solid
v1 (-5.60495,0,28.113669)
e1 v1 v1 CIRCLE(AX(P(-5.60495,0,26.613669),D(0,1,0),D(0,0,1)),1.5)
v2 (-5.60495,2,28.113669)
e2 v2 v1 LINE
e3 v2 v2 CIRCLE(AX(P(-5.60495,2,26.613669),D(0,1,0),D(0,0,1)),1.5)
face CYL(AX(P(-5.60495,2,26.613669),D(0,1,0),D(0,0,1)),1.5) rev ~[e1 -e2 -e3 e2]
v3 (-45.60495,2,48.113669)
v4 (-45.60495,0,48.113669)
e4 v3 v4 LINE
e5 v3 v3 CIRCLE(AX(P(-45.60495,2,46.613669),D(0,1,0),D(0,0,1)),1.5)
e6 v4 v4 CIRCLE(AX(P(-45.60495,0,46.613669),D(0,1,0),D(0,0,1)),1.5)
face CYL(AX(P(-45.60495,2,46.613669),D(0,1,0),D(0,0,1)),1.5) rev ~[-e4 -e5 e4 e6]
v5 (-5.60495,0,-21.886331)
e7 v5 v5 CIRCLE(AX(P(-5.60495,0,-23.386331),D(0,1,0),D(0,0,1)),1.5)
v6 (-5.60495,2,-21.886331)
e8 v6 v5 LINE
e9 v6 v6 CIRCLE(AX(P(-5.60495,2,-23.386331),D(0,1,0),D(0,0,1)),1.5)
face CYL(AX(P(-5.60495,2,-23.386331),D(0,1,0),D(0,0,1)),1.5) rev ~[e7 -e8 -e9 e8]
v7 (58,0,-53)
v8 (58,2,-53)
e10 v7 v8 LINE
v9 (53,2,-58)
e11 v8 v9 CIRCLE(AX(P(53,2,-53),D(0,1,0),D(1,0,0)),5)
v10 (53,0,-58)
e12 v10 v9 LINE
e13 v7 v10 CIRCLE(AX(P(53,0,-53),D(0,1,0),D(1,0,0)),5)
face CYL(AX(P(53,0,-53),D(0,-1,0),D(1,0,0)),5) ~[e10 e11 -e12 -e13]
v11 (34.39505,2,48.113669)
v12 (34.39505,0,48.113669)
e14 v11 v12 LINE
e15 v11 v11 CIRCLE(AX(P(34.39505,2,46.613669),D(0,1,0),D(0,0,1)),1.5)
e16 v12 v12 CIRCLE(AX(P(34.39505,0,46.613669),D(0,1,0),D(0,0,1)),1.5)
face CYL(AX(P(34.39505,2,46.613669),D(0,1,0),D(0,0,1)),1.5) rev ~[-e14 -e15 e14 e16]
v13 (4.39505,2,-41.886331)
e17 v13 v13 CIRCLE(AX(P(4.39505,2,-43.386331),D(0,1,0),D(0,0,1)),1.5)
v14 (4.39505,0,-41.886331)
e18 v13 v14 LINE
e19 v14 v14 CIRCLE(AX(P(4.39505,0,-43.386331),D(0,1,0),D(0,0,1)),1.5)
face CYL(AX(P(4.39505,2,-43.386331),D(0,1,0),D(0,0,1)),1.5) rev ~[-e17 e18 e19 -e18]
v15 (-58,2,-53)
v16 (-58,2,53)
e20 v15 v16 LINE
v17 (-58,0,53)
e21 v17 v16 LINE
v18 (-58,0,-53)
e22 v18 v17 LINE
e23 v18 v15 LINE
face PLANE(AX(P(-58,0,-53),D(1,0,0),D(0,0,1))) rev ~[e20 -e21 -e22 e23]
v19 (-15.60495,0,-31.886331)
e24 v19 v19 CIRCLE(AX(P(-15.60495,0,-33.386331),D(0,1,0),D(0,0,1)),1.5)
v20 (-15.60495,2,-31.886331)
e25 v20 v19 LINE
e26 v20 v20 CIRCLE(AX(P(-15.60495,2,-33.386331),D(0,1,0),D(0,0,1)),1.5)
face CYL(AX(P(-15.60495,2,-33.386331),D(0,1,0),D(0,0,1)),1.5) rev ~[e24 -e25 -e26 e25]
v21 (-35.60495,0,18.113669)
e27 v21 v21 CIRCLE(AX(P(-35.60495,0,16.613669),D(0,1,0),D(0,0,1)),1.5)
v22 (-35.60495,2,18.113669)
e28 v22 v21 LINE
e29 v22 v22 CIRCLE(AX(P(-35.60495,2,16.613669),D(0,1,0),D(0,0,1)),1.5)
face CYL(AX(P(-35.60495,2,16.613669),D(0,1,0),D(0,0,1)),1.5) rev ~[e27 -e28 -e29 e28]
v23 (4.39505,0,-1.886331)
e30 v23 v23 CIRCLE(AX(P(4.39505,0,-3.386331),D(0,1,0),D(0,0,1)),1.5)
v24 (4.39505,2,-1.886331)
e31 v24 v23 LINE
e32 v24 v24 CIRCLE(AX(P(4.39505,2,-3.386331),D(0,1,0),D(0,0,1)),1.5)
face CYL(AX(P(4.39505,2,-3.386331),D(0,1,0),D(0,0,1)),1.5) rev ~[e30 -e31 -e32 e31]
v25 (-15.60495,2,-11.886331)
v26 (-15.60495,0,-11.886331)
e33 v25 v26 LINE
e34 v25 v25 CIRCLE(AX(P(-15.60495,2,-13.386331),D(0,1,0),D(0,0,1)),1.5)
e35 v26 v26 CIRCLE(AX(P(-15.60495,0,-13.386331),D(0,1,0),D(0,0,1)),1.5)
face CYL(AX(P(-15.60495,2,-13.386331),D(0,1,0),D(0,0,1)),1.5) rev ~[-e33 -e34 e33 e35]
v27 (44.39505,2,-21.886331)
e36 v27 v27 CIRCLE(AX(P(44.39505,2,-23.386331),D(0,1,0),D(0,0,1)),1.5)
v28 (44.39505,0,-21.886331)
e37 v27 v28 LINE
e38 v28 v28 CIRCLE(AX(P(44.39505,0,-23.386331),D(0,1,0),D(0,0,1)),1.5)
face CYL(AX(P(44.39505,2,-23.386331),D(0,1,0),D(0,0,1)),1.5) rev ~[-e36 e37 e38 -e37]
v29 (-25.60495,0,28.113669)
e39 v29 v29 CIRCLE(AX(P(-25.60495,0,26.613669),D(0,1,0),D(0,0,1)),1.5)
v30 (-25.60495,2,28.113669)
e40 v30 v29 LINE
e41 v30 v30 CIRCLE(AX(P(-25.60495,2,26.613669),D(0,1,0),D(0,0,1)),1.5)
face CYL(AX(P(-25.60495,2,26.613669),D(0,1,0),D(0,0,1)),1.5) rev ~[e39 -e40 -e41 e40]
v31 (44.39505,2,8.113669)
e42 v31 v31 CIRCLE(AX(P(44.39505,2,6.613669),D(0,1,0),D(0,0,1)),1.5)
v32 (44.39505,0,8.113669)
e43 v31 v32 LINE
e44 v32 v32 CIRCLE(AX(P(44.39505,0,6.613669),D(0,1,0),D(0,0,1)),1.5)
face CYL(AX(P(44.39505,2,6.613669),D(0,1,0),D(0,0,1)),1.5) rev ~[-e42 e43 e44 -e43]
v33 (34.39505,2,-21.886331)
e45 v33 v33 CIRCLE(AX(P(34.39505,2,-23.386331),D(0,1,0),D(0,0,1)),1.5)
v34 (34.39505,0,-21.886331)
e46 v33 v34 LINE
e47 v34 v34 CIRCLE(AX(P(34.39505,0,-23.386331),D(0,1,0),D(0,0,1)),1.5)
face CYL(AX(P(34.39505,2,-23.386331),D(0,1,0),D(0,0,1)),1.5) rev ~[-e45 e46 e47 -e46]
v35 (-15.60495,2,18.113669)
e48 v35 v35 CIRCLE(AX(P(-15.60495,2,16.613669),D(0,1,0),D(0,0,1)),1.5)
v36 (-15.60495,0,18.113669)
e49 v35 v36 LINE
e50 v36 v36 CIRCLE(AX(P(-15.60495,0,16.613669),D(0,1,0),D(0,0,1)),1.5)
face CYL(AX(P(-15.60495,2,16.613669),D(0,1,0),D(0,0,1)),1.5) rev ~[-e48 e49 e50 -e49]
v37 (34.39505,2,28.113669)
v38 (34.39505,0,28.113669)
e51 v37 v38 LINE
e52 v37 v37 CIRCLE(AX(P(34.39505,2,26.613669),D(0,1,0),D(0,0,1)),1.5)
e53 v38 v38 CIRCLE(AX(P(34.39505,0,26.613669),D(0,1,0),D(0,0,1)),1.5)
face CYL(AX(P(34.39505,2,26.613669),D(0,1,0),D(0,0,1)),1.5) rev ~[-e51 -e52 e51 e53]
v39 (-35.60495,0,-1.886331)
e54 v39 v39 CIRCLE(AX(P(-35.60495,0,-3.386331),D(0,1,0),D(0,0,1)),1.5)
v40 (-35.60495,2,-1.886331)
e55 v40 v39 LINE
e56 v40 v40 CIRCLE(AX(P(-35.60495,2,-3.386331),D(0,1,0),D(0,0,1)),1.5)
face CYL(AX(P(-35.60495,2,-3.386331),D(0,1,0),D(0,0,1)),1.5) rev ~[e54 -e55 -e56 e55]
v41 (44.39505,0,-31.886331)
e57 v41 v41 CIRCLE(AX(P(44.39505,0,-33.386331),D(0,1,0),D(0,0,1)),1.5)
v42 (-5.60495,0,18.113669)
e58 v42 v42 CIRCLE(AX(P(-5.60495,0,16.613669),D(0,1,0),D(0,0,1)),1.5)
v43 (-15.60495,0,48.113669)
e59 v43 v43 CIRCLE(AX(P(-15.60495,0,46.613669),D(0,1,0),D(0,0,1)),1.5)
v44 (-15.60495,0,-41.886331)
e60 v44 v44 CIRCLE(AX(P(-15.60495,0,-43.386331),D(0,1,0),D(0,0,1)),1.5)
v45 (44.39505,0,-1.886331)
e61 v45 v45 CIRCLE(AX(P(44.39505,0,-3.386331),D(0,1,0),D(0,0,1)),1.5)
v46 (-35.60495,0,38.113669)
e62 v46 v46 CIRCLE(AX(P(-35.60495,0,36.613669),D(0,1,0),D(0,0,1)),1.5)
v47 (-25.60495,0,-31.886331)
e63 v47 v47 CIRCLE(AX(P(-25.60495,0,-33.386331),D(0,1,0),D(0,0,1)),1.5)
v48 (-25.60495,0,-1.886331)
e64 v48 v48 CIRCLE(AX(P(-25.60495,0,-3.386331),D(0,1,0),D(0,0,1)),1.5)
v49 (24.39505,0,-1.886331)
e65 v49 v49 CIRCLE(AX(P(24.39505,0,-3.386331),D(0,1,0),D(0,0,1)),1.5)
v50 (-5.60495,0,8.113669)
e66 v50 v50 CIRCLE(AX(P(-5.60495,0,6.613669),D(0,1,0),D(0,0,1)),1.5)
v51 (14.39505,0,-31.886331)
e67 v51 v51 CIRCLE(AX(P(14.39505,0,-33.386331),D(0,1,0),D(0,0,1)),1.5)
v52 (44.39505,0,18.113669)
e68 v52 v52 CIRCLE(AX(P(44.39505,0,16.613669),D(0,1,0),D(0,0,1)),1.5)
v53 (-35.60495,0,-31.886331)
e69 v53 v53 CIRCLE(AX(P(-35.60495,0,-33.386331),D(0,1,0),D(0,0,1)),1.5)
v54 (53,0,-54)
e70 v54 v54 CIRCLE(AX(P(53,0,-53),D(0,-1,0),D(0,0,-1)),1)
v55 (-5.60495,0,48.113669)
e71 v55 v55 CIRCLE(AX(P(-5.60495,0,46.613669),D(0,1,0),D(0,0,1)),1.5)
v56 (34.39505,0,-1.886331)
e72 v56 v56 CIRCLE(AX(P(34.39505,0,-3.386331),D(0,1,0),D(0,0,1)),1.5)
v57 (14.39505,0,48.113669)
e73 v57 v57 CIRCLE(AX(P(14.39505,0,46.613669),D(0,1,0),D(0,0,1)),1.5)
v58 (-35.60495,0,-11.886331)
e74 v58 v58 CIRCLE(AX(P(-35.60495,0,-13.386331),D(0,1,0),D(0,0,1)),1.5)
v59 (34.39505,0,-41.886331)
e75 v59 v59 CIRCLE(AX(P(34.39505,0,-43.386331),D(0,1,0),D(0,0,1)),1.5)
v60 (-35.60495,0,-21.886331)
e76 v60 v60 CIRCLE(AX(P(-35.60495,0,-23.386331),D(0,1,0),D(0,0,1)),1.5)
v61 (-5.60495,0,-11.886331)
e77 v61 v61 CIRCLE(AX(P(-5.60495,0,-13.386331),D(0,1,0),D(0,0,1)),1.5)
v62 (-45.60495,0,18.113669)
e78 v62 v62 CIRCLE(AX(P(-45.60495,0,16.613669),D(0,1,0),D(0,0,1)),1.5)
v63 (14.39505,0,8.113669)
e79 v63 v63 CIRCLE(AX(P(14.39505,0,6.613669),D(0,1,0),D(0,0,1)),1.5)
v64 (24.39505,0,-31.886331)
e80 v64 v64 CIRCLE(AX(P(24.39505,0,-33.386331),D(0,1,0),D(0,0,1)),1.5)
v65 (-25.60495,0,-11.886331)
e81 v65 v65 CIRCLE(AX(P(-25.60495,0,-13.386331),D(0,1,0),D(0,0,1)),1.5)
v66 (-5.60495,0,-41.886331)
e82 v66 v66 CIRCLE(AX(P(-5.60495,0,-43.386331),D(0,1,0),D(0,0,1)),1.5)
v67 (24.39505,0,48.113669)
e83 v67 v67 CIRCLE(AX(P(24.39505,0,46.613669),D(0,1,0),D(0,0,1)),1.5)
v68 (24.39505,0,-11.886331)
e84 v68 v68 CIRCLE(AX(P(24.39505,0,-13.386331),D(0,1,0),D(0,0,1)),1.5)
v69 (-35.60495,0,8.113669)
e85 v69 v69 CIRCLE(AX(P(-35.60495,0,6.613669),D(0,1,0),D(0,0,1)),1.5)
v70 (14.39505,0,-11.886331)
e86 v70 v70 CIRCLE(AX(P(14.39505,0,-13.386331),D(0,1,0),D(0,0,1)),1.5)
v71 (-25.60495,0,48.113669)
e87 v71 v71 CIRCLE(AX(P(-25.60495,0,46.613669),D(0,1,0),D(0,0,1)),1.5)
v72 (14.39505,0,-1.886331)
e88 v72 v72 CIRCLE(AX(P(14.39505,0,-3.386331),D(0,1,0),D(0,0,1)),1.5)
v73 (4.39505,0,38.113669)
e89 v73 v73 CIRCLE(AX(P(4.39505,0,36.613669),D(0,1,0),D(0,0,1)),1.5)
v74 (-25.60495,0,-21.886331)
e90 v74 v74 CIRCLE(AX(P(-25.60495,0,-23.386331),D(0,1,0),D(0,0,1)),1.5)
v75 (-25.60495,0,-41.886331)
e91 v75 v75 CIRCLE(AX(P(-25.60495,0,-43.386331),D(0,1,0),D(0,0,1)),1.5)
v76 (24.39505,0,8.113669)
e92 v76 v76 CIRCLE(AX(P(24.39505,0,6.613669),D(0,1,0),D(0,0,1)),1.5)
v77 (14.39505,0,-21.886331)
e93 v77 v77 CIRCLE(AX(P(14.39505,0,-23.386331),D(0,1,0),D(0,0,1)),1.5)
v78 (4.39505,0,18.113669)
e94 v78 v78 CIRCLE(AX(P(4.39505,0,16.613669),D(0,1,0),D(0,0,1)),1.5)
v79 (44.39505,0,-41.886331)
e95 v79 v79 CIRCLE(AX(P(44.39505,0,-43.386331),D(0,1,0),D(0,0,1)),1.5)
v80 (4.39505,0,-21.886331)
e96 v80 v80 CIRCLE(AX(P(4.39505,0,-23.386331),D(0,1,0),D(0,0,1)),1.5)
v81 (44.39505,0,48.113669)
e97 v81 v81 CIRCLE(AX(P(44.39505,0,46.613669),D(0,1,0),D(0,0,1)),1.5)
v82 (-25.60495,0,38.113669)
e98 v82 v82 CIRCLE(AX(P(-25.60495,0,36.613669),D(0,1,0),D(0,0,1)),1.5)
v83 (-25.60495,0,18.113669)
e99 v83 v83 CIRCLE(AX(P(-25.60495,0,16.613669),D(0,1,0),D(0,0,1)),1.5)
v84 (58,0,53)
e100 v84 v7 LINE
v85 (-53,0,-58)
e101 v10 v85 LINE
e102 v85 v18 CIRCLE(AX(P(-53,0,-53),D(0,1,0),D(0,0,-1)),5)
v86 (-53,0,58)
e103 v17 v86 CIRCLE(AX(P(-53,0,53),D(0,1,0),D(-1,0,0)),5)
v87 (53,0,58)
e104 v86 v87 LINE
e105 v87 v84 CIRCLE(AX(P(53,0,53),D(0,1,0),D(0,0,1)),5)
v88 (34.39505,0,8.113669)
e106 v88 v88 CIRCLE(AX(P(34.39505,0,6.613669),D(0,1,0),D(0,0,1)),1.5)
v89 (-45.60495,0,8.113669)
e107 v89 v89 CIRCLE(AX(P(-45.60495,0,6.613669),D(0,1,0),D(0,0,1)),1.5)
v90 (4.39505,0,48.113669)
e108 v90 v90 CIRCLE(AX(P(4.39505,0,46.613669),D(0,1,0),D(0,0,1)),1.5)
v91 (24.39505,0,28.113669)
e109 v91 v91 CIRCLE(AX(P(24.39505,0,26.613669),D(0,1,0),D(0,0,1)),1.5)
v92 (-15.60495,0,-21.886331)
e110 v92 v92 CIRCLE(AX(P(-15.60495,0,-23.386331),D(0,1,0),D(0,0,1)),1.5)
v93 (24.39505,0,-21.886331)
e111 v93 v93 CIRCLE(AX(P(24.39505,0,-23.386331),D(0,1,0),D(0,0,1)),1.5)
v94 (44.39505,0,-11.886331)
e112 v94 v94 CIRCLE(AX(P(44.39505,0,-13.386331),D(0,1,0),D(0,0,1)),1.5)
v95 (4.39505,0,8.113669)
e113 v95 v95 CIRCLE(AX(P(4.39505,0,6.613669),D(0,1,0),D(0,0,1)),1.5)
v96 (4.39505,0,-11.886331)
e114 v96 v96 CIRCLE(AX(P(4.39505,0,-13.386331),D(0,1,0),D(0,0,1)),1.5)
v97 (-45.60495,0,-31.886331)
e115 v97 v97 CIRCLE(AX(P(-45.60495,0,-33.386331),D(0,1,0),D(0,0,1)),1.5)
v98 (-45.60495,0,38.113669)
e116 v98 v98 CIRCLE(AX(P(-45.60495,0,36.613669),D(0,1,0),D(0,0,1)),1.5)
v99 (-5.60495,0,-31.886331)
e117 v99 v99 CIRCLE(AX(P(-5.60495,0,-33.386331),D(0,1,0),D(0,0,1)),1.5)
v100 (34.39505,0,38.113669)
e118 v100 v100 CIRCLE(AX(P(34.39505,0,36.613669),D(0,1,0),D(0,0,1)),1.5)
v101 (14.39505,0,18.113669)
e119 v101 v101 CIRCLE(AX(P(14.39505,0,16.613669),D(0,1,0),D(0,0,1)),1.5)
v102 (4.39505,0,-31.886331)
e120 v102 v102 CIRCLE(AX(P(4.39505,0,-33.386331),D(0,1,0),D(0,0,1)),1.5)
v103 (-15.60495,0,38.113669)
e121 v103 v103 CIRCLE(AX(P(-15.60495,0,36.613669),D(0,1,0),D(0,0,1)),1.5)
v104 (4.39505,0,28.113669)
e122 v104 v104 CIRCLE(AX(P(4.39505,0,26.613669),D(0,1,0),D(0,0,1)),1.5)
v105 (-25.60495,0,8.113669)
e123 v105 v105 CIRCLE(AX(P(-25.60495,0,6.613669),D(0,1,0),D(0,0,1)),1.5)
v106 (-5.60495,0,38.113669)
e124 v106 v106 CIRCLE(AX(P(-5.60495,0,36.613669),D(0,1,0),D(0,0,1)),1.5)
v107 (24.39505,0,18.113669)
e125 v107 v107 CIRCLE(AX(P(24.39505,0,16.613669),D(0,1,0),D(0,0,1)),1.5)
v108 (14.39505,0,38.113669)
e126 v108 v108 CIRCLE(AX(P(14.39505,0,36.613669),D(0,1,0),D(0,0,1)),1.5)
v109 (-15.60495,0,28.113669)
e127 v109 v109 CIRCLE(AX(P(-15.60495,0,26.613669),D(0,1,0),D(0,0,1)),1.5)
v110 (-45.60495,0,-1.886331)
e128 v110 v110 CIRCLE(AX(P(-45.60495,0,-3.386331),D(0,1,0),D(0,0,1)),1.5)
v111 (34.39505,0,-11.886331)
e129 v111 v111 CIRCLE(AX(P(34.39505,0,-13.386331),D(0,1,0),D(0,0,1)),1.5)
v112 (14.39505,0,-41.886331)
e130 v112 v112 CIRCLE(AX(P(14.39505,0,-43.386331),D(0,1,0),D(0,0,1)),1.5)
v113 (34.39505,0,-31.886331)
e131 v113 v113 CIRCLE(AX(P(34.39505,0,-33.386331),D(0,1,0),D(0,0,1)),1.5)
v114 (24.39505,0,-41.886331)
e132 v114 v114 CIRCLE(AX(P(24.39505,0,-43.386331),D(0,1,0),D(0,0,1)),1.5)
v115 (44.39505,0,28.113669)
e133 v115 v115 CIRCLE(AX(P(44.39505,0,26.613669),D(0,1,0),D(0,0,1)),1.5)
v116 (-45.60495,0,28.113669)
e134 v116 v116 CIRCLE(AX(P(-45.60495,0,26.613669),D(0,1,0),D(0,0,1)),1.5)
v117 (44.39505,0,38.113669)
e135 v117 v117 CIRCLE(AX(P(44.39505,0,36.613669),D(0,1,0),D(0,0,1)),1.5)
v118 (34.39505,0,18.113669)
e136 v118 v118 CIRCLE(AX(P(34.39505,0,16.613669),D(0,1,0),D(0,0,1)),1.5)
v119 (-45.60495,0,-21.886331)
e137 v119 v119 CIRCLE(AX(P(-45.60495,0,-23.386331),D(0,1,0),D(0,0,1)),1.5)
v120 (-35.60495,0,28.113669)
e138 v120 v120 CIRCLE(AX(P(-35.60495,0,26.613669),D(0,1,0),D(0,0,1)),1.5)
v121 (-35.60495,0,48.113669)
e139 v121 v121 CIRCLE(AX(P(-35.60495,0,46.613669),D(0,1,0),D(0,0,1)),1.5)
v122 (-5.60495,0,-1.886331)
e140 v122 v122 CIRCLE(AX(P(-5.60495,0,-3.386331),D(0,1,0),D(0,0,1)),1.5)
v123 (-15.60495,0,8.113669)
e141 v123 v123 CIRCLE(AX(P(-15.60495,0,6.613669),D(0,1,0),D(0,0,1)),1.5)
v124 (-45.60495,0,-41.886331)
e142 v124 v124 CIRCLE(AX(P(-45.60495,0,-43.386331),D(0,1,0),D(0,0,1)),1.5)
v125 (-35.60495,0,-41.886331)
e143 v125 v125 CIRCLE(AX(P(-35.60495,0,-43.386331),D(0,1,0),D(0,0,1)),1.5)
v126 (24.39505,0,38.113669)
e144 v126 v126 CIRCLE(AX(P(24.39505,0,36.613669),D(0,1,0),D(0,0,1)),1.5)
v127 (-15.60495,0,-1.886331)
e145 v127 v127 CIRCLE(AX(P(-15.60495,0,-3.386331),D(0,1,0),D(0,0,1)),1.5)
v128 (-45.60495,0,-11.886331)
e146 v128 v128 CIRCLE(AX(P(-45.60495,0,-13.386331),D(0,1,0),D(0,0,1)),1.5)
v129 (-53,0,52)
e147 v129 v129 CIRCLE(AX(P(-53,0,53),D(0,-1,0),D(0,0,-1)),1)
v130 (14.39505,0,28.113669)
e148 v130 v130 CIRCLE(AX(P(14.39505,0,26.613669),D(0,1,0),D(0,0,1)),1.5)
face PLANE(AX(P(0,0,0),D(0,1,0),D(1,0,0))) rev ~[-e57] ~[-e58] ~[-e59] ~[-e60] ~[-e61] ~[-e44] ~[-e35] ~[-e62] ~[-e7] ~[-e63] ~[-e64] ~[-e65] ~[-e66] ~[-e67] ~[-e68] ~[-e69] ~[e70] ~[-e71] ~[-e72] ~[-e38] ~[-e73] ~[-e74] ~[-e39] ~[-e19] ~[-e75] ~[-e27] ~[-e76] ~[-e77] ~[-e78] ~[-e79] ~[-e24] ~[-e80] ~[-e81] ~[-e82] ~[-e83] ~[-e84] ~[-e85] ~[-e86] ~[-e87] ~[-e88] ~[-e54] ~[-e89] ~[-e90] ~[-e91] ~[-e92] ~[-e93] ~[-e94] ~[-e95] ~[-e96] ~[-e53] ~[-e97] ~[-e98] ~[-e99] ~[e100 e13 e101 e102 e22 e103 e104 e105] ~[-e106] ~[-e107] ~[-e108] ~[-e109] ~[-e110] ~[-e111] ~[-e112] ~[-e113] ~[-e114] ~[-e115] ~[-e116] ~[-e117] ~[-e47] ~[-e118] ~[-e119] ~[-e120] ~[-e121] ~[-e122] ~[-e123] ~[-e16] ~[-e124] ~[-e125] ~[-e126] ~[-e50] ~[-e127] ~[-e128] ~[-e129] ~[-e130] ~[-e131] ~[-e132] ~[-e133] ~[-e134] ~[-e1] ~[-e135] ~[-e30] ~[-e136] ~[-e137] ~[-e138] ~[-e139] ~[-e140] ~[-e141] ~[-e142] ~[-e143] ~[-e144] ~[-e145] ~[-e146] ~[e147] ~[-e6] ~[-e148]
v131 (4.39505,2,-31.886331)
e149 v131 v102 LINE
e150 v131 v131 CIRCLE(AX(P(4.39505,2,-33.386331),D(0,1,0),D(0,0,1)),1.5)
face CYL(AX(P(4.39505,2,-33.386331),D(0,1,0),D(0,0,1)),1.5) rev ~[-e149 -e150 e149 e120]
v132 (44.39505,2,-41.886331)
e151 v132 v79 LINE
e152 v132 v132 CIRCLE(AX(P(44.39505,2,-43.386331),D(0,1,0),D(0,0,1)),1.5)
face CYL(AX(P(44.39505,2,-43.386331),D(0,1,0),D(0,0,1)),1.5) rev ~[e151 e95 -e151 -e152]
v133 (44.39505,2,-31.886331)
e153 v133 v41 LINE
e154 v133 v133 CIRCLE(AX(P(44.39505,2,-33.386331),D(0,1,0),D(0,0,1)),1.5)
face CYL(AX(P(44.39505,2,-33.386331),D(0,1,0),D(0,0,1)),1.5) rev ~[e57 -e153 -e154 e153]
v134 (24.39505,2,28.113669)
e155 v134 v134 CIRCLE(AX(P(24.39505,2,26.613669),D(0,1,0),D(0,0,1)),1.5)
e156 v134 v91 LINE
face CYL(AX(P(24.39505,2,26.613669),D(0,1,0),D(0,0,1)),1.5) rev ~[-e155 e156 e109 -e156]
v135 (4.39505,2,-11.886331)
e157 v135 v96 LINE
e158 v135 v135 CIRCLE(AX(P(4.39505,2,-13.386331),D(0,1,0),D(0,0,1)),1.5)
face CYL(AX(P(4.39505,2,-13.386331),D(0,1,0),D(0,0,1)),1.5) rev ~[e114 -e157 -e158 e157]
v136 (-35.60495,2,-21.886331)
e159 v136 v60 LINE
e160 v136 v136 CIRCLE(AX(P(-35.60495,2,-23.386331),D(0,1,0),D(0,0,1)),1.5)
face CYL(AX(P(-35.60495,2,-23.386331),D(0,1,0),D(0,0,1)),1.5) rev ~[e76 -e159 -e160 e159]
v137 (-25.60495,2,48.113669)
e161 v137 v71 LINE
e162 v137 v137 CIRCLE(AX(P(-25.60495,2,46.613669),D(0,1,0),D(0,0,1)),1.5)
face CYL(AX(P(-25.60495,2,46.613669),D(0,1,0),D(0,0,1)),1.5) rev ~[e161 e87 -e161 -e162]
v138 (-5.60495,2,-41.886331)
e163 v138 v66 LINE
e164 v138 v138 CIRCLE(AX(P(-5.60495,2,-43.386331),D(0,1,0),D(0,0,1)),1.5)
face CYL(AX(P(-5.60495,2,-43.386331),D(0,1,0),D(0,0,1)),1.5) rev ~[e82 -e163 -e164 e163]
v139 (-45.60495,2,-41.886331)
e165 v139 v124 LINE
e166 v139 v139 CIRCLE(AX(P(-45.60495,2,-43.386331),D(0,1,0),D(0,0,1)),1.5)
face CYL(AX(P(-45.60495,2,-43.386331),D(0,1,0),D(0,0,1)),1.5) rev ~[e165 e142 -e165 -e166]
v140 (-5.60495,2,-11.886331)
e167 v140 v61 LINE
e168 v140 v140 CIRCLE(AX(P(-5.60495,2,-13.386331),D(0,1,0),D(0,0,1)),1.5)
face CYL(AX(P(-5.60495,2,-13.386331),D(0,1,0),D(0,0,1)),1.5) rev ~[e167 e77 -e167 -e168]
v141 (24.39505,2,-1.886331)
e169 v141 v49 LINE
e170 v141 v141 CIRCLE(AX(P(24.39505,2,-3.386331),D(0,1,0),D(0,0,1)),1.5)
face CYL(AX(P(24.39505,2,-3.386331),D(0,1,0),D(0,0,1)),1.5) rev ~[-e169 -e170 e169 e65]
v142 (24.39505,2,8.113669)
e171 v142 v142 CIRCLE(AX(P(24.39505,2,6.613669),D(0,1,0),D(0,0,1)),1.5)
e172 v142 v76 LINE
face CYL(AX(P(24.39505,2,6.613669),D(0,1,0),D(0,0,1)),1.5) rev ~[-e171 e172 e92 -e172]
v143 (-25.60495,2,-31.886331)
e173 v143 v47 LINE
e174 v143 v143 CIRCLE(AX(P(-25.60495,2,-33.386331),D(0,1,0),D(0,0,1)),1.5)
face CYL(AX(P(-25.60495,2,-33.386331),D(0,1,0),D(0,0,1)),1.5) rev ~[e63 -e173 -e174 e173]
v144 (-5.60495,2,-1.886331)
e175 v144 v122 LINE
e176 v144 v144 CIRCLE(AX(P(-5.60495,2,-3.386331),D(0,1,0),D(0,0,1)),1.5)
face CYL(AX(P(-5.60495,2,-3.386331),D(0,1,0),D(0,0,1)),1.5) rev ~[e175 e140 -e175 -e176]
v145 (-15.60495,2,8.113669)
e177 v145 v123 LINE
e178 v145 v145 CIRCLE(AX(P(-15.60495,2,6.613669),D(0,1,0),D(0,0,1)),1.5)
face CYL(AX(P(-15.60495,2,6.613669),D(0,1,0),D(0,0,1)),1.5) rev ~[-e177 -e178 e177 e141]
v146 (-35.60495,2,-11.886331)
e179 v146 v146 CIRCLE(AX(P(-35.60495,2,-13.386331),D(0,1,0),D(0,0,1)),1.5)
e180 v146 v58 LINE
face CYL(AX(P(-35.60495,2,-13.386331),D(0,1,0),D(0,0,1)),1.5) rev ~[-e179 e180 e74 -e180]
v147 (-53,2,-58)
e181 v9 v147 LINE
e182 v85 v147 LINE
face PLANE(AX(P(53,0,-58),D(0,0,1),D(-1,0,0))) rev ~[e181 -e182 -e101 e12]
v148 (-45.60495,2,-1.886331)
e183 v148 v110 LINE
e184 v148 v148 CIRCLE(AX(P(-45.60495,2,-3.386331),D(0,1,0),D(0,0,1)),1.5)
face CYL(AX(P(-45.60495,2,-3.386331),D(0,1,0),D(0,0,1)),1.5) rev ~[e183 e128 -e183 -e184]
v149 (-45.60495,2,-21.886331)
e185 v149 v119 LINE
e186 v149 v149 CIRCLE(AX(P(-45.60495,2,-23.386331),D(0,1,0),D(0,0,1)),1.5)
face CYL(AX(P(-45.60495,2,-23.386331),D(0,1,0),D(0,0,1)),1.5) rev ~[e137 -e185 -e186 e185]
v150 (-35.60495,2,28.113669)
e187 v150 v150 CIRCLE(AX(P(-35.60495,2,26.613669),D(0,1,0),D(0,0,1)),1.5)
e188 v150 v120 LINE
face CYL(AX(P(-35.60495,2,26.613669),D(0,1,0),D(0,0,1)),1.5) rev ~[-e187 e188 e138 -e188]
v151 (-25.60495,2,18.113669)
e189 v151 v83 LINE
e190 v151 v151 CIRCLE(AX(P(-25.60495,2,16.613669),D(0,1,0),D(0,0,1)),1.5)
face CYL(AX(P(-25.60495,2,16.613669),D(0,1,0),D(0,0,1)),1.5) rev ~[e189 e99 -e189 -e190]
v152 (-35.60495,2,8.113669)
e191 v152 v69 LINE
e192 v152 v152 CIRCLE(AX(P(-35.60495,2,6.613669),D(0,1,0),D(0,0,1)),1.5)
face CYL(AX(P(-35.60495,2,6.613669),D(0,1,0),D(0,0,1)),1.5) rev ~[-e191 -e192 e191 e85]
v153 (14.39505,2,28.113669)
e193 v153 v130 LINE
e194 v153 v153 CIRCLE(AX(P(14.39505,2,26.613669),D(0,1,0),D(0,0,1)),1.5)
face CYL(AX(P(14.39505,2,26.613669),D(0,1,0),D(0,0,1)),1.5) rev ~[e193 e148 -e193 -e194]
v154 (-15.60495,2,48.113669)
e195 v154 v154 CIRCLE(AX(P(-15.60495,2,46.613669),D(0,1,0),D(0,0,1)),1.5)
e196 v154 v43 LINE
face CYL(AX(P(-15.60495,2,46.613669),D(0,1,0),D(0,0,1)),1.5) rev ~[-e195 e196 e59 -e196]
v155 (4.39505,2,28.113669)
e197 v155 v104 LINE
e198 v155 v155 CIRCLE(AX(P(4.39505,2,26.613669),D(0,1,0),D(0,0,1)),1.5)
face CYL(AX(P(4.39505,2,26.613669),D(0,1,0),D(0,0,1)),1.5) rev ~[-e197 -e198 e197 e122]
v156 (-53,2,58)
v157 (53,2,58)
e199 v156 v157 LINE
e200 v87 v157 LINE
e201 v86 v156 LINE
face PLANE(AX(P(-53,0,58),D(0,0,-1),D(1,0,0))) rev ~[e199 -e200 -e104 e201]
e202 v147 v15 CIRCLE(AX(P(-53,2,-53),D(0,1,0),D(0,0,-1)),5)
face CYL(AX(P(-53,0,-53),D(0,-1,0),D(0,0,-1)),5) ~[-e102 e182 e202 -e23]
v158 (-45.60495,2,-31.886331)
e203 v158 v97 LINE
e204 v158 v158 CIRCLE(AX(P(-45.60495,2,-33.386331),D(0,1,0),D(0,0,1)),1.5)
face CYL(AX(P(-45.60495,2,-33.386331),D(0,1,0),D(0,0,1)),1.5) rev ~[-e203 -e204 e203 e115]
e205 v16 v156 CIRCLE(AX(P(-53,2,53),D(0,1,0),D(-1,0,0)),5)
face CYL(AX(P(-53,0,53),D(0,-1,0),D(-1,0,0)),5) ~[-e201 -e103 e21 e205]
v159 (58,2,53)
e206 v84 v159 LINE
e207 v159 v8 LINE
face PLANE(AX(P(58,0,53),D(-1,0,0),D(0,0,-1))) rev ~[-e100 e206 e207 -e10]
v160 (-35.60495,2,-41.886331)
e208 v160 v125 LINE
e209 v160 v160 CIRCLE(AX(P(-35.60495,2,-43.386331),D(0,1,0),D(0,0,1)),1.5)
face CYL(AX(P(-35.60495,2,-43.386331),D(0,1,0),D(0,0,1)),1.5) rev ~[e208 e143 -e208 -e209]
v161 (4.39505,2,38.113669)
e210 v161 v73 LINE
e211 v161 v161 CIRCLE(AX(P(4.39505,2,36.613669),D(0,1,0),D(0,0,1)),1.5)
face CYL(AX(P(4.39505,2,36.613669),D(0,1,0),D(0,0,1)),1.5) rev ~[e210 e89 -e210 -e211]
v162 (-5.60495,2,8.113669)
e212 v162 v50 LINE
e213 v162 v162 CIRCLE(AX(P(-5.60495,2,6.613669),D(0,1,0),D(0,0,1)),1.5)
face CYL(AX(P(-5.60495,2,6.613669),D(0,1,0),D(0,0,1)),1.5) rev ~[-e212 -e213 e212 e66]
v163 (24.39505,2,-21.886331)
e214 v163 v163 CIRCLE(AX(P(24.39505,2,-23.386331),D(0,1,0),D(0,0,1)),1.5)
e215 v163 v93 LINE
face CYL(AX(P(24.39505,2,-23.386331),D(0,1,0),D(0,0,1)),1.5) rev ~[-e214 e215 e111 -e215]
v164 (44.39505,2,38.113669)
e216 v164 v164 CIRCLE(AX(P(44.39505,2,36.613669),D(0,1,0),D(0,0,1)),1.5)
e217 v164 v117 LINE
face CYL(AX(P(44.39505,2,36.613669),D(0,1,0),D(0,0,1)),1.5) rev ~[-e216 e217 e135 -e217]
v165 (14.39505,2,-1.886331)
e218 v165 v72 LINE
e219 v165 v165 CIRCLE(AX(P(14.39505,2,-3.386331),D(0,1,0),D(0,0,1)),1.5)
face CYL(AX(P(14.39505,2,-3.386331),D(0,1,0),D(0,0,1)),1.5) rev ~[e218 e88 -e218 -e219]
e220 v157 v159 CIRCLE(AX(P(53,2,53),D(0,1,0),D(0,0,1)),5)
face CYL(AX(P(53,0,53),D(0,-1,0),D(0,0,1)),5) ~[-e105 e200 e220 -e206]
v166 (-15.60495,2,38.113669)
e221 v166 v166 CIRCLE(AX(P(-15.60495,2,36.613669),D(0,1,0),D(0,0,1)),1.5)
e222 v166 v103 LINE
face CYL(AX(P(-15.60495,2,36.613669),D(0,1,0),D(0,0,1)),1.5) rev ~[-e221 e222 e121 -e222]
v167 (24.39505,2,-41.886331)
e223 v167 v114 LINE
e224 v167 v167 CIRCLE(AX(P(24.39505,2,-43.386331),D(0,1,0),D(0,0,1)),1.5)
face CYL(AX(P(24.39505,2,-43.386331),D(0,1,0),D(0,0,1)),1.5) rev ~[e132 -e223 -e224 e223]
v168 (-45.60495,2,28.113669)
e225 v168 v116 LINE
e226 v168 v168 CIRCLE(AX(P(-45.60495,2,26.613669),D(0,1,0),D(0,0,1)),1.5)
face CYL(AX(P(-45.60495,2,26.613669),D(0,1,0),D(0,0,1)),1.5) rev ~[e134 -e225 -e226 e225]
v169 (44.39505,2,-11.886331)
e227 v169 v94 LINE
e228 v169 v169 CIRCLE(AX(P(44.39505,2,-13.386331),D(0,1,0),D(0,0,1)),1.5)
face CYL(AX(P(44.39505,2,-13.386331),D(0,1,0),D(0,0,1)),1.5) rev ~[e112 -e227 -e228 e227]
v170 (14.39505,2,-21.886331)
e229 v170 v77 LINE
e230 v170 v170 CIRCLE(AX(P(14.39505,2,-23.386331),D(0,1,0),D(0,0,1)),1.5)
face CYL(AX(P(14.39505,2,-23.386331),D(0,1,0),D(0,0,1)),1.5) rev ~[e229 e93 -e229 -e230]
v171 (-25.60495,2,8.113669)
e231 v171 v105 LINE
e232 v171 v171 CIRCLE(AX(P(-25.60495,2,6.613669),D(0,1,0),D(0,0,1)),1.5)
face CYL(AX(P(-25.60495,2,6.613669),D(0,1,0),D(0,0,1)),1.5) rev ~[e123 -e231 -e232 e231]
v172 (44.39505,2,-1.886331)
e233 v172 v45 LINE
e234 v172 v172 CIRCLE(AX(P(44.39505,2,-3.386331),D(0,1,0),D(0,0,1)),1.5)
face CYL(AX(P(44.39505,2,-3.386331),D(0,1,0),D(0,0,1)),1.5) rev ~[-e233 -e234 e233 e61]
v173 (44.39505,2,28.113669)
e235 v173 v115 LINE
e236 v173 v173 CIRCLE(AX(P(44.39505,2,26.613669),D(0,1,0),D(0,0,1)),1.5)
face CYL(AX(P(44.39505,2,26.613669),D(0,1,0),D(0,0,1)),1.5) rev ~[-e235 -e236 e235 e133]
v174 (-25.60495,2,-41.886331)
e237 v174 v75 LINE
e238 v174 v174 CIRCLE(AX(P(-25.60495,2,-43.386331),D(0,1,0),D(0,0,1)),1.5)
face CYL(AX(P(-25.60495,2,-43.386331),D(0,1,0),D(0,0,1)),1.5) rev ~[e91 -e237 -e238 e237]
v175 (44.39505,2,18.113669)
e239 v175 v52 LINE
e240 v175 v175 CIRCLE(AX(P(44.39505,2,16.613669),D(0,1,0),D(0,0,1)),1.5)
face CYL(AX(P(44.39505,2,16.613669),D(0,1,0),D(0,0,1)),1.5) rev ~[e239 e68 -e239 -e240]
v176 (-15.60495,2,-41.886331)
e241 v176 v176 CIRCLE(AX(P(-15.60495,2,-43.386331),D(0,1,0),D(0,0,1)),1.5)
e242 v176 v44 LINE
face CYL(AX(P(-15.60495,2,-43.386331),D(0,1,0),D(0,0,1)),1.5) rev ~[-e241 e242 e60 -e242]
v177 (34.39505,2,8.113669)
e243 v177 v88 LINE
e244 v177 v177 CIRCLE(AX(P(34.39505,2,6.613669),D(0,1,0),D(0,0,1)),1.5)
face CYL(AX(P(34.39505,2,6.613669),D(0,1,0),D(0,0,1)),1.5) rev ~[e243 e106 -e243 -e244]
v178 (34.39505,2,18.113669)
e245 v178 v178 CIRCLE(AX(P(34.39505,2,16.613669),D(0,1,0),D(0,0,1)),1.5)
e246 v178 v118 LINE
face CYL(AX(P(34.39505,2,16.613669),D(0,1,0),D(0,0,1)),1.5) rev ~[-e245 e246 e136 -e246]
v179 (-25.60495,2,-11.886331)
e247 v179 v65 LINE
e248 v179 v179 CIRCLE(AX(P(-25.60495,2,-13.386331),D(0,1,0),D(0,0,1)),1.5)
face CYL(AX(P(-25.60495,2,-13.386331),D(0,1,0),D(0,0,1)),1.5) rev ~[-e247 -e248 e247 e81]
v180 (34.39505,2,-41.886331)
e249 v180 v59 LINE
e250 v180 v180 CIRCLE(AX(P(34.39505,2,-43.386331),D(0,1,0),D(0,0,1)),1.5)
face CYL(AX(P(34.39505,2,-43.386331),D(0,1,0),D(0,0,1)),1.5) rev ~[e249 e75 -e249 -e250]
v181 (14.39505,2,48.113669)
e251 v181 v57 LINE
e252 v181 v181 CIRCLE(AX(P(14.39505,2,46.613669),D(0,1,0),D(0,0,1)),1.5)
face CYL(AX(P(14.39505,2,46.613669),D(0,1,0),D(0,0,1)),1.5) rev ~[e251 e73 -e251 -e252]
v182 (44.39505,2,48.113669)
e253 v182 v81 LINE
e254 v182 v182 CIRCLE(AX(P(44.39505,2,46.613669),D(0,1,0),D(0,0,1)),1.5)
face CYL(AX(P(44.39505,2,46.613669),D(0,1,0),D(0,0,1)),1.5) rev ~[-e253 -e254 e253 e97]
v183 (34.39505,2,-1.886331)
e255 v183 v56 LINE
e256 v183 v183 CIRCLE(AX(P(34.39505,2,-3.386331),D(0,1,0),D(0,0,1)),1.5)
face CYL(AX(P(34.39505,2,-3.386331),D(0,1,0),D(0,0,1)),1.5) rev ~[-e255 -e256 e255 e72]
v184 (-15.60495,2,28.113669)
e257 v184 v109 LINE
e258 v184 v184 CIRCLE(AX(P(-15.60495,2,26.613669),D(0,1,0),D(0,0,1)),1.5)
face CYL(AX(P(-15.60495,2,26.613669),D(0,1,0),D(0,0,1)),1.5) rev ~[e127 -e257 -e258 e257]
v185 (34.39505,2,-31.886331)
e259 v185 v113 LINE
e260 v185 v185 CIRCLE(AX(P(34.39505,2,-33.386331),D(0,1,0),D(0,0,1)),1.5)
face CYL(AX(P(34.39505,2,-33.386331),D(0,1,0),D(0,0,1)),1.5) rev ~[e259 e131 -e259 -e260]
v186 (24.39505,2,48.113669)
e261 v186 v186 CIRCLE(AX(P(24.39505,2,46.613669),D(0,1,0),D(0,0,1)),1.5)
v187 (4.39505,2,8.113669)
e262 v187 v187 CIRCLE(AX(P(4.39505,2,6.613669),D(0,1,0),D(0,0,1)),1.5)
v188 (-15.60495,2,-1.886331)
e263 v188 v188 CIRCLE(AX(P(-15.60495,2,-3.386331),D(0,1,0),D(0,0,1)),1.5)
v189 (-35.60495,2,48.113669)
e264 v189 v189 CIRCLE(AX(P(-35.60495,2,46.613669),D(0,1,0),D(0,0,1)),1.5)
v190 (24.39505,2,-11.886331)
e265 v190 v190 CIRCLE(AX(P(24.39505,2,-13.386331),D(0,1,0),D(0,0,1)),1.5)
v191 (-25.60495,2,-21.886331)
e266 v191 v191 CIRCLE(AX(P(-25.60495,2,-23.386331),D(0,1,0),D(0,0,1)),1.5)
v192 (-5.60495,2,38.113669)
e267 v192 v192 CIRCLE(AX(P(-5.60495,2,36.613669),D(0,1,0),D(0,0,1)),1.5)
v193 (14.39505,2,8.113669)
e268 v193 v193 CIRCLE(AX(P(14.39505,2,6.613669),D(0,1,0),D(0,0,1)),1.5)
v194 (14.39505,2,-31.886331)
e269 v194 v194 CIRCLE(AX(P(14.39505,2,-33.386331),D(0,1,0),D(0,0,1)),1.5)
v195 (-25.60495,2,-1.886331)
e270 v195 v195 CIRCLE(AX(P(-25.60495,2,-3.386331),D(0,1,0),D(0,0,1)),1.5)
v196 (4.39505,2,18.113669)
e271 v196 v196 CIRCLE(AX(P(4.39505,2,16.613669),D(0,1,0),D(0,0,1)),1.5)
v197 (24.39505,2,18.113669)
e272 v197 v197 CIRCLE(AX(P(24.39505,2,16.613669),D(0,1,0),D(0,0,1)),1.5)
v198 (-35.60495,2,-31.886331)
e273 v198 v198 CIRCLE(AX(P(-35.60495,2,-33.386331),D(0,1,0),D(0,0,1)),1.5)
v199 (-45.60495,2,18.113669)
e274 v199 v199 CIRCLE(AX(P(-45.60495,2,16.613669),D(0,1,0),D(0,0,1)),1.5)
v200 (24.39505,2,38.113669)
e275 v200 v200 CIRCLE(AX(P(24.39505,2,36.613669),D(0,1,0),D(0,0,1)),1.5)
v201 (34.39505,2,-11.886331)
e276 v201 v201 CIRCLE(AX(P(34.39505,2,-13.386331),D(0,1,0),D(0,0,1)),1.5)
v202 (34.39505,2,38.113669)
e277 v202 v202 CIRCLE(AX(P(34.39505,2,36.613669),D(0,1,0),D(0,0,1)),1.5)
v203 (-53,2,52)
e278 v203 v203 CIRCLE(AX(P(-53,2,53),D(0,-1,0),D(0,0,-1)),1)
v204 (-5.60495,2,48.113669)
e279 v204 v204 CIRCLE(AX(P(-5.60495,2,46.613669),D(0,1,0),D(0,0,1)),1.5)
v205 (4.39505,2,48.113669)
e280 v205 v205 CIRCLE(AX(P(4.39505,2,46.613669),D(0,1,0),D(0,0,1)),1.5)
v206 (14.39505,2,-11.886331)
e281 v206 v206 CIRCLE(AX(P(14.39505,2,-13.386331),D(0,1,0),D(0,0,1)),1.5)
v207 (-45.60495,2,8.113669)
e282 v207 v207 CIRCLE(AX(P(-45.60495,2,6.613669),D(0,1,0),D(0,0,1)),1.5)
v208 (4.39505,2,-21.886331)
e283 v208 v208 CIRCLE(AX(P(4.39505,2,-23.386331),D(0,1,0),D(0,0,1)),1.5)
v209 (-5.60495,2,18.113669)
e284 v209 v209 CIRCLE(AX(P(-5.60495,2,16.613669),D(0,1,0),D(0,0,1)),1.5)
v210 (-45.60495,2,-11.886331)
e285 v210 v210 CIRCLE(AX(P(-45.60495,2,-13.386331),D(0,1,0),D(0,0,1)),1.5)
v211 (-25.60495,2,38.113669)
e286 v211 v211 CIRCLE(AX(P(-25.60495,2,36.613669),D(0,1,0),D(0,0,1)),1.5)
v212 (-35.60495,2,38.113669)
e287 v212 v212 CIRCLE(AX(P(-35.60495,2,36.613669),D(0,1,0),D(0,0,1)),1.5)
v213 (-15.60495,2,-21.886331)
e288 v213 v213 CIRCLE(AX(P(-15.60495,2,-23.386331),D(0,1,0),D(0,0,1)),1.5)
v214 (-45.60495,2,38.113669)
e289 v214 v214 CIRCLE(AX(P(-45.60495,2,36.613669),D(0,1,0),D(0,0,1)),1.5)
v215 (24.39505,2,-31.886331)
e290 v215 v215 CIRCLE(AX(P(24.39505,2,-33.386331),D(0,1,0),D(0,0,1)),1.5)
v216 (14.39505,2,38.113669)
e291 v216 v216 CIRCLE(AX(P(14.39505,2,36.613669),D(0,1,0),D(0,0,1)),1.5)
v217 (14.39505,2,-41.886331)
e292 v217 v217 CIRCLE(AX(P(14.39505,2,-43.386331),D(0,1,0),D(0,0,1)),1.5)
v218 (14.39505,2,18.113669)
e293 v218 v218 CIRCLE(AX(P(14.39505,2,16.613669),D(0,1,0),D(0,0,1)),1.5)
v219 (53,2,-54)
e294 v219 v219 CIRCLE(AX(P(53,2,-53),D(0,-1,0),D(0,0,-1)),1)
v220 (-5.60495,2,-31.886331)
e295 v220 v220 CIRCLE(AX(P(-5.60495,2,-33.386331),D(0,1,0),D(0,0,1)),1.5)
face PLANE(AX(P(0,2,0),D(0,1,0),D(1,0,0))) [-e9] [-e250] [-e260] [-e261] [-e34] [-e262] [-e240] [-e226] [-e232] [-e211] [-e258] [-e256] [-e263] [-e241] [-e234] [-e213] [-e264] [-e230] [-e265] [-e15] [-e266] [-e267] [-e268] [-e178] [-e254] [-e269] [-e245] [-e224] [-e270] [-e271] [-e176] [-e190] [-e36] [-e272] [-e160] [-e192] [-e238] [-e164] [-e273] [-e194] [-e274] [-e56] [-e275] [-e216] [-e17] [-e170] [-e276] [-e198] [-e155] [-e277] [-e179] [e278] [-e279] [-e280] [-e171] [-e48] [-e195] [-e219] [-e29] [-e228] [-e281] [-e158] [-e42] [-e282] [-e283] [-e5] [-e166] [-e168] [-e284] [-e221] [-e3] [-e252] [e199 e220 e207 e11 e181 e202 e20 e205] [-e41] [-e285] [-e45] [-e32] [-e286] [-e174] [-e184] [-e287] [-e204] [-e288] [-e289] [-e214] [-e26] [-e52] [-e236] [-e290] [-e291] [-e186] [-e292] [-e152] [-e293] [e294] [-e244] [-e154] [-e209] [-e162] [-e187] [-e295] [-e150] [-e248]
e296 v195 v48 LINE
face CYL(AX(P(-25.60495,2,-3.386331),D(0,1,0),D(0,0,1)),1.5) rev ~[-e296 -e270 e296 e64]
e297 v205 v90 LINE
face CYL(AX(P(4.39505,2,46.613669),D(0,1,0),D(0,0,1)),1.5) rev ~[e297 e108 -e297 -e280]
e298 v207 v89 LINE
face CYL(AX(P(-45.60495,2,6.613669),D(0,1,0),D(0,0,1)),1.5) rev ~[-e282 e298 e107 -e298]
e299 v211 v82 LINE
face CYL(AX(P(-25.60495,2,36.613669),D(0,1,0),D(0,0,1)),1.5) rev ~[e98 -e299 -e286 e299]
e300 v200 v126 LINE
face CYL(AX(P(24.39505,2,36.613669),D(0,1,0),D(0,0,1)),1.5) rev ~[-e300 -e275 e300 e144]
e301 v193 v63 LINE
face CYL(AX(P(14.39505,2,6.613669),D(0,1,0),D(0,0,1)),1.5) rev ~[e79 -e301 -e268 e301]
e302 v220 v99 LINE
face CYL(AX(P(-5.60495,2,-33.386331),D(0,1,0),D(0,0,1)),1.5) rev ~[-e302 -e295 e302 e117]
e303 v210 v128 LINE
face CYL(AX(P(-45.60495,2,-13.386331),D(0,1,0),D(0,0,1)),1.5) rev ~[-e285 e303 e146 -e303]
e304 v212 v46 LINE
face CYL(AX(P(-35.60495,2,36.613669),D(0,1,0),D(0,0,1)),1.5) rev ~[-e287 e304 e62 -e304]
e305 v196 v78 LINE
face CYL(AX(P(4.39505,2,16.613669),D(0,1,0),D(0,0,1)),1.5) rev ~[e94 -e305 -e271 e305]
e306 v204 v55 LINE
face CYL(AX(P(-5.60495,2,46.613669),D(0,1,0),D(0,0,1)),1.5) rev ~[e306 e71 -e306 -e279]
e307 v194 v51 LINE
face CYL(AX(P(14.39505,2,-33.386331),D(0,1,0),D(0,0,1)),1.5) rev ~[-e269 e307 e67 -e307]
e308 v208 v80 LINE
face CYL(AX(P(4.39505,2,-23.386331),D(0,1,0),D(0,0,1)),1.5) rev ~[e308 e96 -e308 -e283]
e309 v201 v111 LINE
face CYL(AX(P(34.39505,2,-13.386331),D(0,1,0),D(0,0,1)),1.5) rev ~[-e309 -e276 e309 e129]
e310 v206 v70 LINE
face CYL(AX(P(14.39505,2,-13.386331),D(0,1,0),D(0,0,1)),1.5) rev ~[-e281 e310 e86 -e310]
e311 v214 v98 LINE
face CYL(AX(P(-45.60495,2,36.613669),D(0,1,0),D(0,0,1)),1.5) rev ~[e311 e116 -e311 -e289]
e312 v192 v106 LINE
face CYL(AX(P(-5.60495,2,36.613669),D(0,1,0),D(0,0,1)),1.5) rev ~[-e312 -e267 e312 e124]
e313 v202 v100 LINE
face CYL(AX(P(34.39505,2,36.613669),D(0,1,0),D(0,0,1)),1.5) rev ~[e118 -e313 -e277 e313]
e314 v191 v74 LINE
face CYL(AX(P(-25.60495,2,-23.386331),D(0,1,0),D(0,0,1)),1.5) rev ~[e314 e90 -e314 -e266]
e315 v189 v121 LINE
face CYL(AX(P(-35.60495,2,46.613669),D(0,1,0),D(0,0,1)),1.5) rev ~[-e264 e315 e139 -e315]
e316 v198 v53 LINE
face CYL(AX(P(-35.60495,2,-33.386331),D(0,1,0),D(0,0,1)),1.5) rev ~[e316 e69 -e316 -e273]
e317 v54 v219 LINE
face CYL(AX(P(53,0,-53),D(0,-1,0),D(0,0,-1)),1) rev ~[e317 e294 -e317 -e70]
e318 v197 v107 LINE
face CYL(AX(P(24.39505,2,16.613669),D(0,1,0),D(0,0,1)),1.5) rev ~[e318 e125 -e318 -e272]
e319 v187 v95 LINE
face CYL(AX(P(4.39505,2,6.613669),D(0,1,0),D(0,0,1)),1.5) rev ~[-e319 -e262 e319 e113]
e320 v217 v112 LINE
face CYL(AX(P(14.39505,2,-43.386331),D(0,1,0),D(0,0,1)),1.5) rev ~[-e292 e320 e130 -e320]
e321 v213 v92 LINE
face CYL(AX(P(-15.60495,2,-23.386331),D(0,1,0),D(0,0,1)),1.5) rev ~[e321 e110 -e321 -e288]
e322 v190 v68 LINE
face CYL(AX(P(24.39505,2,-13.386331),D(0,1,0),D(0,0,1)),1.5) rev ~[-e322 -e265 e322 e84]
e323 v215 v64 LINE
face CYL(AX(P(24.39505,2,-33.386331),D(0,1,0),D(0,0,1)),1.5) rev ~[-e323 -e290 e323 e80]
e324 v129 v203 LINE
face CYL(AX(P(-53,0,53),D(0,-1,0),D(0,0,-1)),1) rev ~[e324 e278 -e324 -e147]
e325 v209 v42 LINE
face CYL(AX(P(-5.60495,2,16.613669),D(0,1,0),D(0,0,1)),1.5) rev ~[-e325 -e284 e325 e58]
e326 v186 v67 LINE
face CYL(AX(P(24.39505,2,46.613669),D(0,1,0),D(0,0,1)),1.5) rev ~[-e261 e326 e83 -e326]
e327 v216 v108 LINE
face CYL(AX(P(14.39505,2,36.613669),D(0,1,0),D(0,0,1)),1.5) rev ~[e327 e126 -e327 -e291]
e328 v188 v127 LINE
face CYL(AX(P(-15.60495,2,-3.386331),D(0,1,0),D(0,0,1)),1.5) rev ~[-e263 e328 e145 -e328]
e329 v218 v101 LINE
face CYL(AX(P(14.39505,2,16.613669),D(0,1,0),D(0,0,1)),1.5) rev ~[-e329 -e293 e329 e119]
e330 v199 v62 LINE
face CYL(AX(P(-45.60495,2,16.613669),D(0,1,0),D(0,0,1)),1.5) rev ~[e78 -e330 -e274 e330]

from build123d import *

# Parameters (mm, degrees)
BOSS_EXTRUDE1_DEPTH = 2
SKETCH2_R           = 1.5
CUT_EXTRUDE1_DEPTH  = 83.048765987
SKETCH3_R           = 1
CUT_EXTRUDE2_DEPTH  = 83.048765987


with BuildPart() as part:
    # Sketch1 → Boss-Extrude1 (new body)
    with BuildSketch(Plane(origin=(0, 0, 0), x_dir=(1, 0, 0), z_dir=(0, 1, 0))):
        with BuildLine():
            Line((53, 58), (-53, 58))
            ThreePointArc((-53, 58), (-56.535533906, 56.535533906), (-58, 53))
            Line((-58, 53), (-58, -53))
            ThreePointArc((-58, -53), (-56.535533906, -56.535533906), (-53, -58))
            Line((-53, -58), (53, -58))
            ThreePointArc((53, -58), (56.535533906, -56.535533906), (58, -53))
            Line((58, -53), (58, 53))
            ThreePointArc((58, 53), (56.535533906, 56.535533906), (53, 58))
        make_face()
    extrude(amount=BOSS_EXTRUDE1_DEPTH)

    # Sketch2 → Cut-Extrude1 (cut, through all)
    with BuildSketch(Plane(origin=(0, 2, 0), x_dir=(1, 0, 0), z_dir=(0, 1, 0))):
        with Locations(Location((-45.60494968, 43.386330507, 0), (0, 0, 270))):
            Circle(SKETCH2_R)
        with Locations(Location((-35.60494968, 43.386330507, 0), (0, 0, 270))):
            Circle(SKETCH2_R)
        with Locations(Location((-25.60494968, 43.386330507, 0), (0, 0, 270))):
            Circle(SKETCH2_R)
        with Locations(Location((-15.60494968, 43.386330507, 0), (0, 0, 270))):
            Circle(SKETCH2_R)
        with Locations(Location((-5.60494968, 43.386330507, 0), (0, 0, 270))):
            Circle(SKETCH2_R)
        with Locations(Location((4.39505032, 43.386330507, 0), (0, 0, 270))):
            Circle(SKETCH2_R)
        with Locations(Location((14.39505032, 43.386330507, 0), (0, 0, 270))):
            Circle(SKETCH2_R)
        with Locations(Location((24.39505032, 43.386330507, 0), (0, 0, 270))):
            Circle(SKETCH2_R)
        with Locations(Location((34.39505032, 43.386330507, 0), (0, 0, 270))):
            Circle(SKETCH2_R)
        with Locations(Location((44.39505032, 43.386330507, 0), (0, 0, 270))):
            Circle(SKETCH2_R)
        with Locations(Location((-35.60494968, 33.386330507, 0), (0, 0, 270))):
            Circle(SKETCH2_R)
        with Locations(Location((-25.60494968, 33.386330507, 0), (0, 0, 270))):
            Circle(SKETCH2_R)
        with Locations(Location((-15.60494968, 33.386330507, 0), (0, 0, 270))):
            Circle(SKETCH2_R)
        with Locations(Location((-5.60494968, 33.386330507, 0), (0, 0, 270))):
            Circle(SKETCH2_R)
        with Locations(Location((4.39505032, 33.386330507, 0), (0, 0, 270))):
            Circle(SKETCH2_R)
        with Locations(Location((14.39505032, 33.386330507, 0), (0, 0, 270))):
            Circle(SKETCH2_R)
        with Locations(Location((24.39505032, 33.386330507, 0), (0, 0, 270))):
            Circle(SKETCH2_R)
        with Locations(Location((34.39505032, 33.386330507, 0), (0, 0, 270))):
            Circle(SKETCH2_R)
        with Locations(Location((44.39505032, 33.386330507, 0), (0, 0, 270))):
            Circle(SKETCH2_R)
        with Locations(Location((-35.60494968, 23.386330507, 0), (0, 0, 270))):
            Circle(SKETCH2_R)
        with Locations(Location((-25.60494968, 23.386330507, 0), (0, 0, 270))):
            Circle(SKETCH2_R)
        with Locations(Location((-15.60494968, 23.386330507, 0), (0, 0, 270))):
            Circle(SKETCH2_R)
        with Locations(Location((-5.60494968, 23.386330507, 0), (0, 0, 270))):
            Circle(SKETCH2_R)
        with Locations(Location((4.39505032, 23.386330507, 0), (0, 0, 270))):
            Circle(SKETCH2_R)
        with Locations(Location((14.39505032, 23.386330507, 0), (0, 0, 270))):
            Circle(SKETCH2_R)
        with Locations(Location((24.39505032, 23.386330507, 0), (0, 0, 270))):
            Circle(SKETCH2_R)
        with Locations(Location((34.39505032, 23.386330507, 0), (0, 0, 270))):
            Circle(SKETCH2_R)
        with Locations(Location((44.39505032, 23.386330507, 0), (0, 0, 270))):
            Circle(SKETCH2_R)
        with Locations(Location((-35.60494968, 13.386330507, 0), (0, 0, 270))):
            Circle(SKETCH2_R)
        with Locations(Location((-25.60494968, 13.386330507, 0), (0, 0, 270))):
            Circle(SKETCH2_R)
        with Locations(Location((-15.60494968, 13.386330507, 0), (0, 0, 270))):
            Circle(SKETCH2_R)
        with Locations(Location((-5.60494968, 13.386330507, 0), (0, 0, 270))):
            Circle(SKETCH2_R)
        with Locations(Location((4.39505032, 13.386330507, 0), (0, 0, 270))):
            Circle(SKETCH2_R)
        with Locations(Location((14.39505032, 13.386330507, 0), (0, 0, 270))):
            Circle(SKETCH2_R)
        with Locations(Location((24.39505032, 13.386330507, 0), (0, 0, 270))):
            Circle(SKETCH2_R)
        with Locations(Location((34.39505032, 13.386330507, 0), (0, 0, 270))):
            Circle(SKETCH2_R)
        with Locations(Location((44.39505032, 13.386330507, 0), (0, 0, 270))):
            Circle(SKETCH2_R)
        with Locations(Location((-35.60494968, 3.386330507, 0), (0, 0, 270))):
            Circle(SKETCH2_R)
        with Locations(Location((-25.60494968, 3.386330507, 0), (0, 0, 270))):
            Circle(SKETCH2_R)
        with Locations(Location((-15.60494968, 3.386330507, 0), (0, 0, 270))):
            Circle(SKETCH2_R)
        with Locations(Location((-5.60494968, 3.386330507, 0), (0, 0, 270))):
            Circle(SKETCH2_R)
        with Locations(Location((4.39505032, 3.386330507, 0), (0, 0, 270))):
            Circle(SKETCH2_R)
        with Locations(Location((14.39505032, 3.386330507, 0), (0, 0, 270))):
            Circle(SKETCH2_R)
        with Locations(Location((24.39505032, 3.386330507, 0), (0, 0, 270))):
            Circle(SKETCH2_R)
        with Locations(Location((34.39505032, 3.386330507, 0), (0, 0, 270))):
            Circle(SKETCH2_R)
        with Locations(Location((44.39505032, 3.386330507, 0), (0, 0, 270))):
            Circle(SKETCH2_R)
        with Locations(Location((-35.60494968, -6.613669493, 0), (0, 0, 270))):
            Circle(SKETCH2_R)
        with Locations(Location((-25.60494968, -6.613669493, 0), (0, 0, 270))):
            Circle(SKETCH2_R)
        with Locations(Location((-15.60494968, -6.613669493, 0), (0, 0, 270))):
            Circle(SKETCH2_R)
        with Locations(Location((-5.60494968, -6.613669493, 0), (0, 0, 270))):
            Circle(SKETCH2_R)
        with Locations(Location((4.39505032, -6.613669493, 0), (0, 0, 270))):
            Circle(SKETCH2_R)
        with Locations(Location((14.39505032, -6.613669493, 0), (0, 0, 270))):
            Circle(SKETCH2_R)
        with Locations(Location((24.39505032, -6.613669493, 0), (0, 0, 270))):
            Circle(SKETCH2_R)
        with Locations(Location((34.39505032, -6.613669493, 0), (0, 0, 270))):
            Circle(SKETCH2_R)
        with Locations(Location((44.39505032, -6.613669493, 0), (0, 0, 270))):
            Circle(SKETCH2_R)
        with Locations(Location((-35.60494968, -16.613669493, 0), (0, 0, 270))):
            Circle(SKETCH2_R)
        with Locations(Location((-25.60494968, -16.613669493, 0), (0, 0, 270))):
            Circle(SKETCH2_R)
        with Locations(Location((-15.60494968, -16.613669493, 0), (0, 0, 270))):
            Circle(SKETCH2_R)
        with Locations(Location((-5.60494968, -16.613669493, 0), (0, 0, 270))):
            Circle(SKETCH2_R)
        with Locations(Location((4.39505032, -16.613669493, 0), (0, 0, 270))):
            Circle(SKETCH2_R)
        with Locations(Location((14.39505032, -16.613669493, 0), (0, 0, 270))):
            Circle(SKETCH2_R)
        with Locations(Location((24.39505032, -16.613669493, 0), (0, 0, 270))):
            Circle(SKETCH2_R)
        with Locations(Location((34.39505032, -16.613669493, 0), (0, 0, 270))):
            Circle(SKETCH2_R)
        with Locations(Location((44.39505032, -16.613669493, 0), (0, 0, 270))):
            Circle(SKETCH2_R)
        with Locations(Location((-35.60494968, -26.613669493, 0), (0, 0, 270))):
            Circle(SKETCH2_R)
        with Locations(Location((-25.60494968, -26.613669493, 0), (0, 0, 270))):
            Circle(SKETCH2_R)
        with Locations(Location((-15.60494968, -26.613669493, 0), (0, 0, 270))):
            Circle(SKETCH2_R)
        with Locations(Location((-5.60494968, -26.613669493, 0), (0, 0, 270))):
            Circle(SKETCH2_R)
        with Locations(Location((4.39505032, -26.613669493, 0), (0, 0, 270))):
            Circle(SKETCH2_R)
        with Locations(Location((14.39505032, -26.613669493, 0), (0, 0, 270))):
            Circle(SKETCH2_R)
        with Locations(Location((24.39505032, -26.613669493, 0), (0, 0, 270))):
            Circle(SKETCH2_R)
        with Locations(Location((34.39505032, -26.613669493, 0), (0, 0, 270))):
            Circle(SKETCH2_R)
        with Locations(Location((44.39505032, -26.613669493, 0), (0, 0, 270))):
            Circle(SKETCH2_R)
        with Locations(Location((-35.60494968, -36.613669493, 0), (0, 0, 270))):
            Circle(SKETCH2_R)
        with Locations(Location((-25.60494968, -36.613669493, 0), (0, 0, 270))):
            Circle(SKETCH2_R)
        with Locations(Location((-15.60494968, -36.613669493, 0), (0, 0, 270))):
            Circle(SKETCH2_R)
        with Locations(Location((-5.60494968, -36.613669493, 0), (0, 0, 270))):
            Circle(SKETCH2_R)
        with Locations(Location((4.39505032, -36.613669493, 0), (0, 0, 270))):
            Circle(SKETCH2_R)
        with Locations(Location((14.39505032, -36.613669493, 0), (0, 0, 270))):
            Circle(SKETCH2_R)
        with Locations(Location((24.39505032, -36.613669493, 0), (0, 0, 270))):
            Circle(SKETCH2_R)
        with Locations(Location((34.39505032, -36.613669493, 0), (0, 0, 270))):
            Circle(SKETCH2_R)
        with Locations(Location((44.39505032, -36.613669493, 0), (0, 0, 270))):
            Circle(SKETCH2_R)
        with Locations(Location((-35.60494968, -46.613669493, 0), (0, 0, 270))):
            Circle(SKETCH2_R)
        with Locations(Location((-25.60494968, -46.613669493, 0), (0, 0, 270))):
            Circle(SKETCH2_R)
        with Locations(Location((-15.60494968, -46.613669493, 0), (0, 0, 270))):
            Circle(SKETCH2_R)
        with Locations(Location((-5.60494968, -46.613669493, 0), (0, 0, 270))):
            Circle(SKETCH2_R)
        with Locations(Location((4.39505032, -46.613669493, 0), (0, 0, 270))):
            Circle(SKETCH2_R)
        with Locations(Location((14.39505032, -46.613669493, 0), (0, 0, 270))):
            Circle(SKETCH2_R)
        with Locations(Location((24.39505032, -46.613669493, 0), (0, 0, 270))):
            Circle(SKETCH2_R)
        with Locations(Location((34.39505032, -46.613669493, 0), (0, 0, 270))):
            Circle(SKETCH2_R)
        with Locations(Location((44.39505032, -46.613669493, 0), (0, 0, 270))):
            Circle(SKETCH2_R)
        with Locations(Location((-45.60494968, 33.386330507, 0), (0, 0, 270))):
            Circle(SKETCH2_R)
        with Locations(Location((-45.60494968, 23.386330507, 0), (0, 0, 270))):
            Circle(SKETCH2_R)
        with Locations(Location((-45.60494968, 13.386330507, 0), (0, 0, 270))):
            Circle(SKETCH2_R)
        with Locations(Location((-45.60494968, 3.386330507, 0), (0, 0, 270))):
            Circle(SKETCH2_R)
        with Locations(Location((-45.60494968, -6.613669493, 0), (0, 0, 270))):
            Circle(SKETCH2_R)
        with Locations(Location((-45.60494968, -16.613669493, 0), (0, 0, 270))):
            Circle(SKETCH2_R)
        with Locations(Location((-45.60494968, -26.613669493, 0), (0, 0, 270))):
            Circle(SKETCH2_R)
        with Locations(Location((-45.60494968, -36.613669493, 0), (0, 0, 270))):
            Circle(SKETCH2_R)
        with Locations(Location((-45.60494968, -46.613669493, 0), (0, 0, 270))):
            Circle(SKETCH2_R)
    extrude(amount=-CUT_EXTRUDE1_DEPTH, mode=Mode.SUBTRACT)

    # Sketch3 → Cut-Extrude2 (cut, through all)
    with BuildSketch(Plane.XZ):
        with Locations(Location((-53, 53, 0), (0, 0, 270))):
            Circle(SKETCH3_R)
        with Locations(Location((53, -53, 0), (0, 0, 270))):
            Circle(SKETCH3_R)
    extrude(amount=-CUT_EXTRUDE2_DEPTH, mode=Mode.SUBTRACT)


solid = part.part
